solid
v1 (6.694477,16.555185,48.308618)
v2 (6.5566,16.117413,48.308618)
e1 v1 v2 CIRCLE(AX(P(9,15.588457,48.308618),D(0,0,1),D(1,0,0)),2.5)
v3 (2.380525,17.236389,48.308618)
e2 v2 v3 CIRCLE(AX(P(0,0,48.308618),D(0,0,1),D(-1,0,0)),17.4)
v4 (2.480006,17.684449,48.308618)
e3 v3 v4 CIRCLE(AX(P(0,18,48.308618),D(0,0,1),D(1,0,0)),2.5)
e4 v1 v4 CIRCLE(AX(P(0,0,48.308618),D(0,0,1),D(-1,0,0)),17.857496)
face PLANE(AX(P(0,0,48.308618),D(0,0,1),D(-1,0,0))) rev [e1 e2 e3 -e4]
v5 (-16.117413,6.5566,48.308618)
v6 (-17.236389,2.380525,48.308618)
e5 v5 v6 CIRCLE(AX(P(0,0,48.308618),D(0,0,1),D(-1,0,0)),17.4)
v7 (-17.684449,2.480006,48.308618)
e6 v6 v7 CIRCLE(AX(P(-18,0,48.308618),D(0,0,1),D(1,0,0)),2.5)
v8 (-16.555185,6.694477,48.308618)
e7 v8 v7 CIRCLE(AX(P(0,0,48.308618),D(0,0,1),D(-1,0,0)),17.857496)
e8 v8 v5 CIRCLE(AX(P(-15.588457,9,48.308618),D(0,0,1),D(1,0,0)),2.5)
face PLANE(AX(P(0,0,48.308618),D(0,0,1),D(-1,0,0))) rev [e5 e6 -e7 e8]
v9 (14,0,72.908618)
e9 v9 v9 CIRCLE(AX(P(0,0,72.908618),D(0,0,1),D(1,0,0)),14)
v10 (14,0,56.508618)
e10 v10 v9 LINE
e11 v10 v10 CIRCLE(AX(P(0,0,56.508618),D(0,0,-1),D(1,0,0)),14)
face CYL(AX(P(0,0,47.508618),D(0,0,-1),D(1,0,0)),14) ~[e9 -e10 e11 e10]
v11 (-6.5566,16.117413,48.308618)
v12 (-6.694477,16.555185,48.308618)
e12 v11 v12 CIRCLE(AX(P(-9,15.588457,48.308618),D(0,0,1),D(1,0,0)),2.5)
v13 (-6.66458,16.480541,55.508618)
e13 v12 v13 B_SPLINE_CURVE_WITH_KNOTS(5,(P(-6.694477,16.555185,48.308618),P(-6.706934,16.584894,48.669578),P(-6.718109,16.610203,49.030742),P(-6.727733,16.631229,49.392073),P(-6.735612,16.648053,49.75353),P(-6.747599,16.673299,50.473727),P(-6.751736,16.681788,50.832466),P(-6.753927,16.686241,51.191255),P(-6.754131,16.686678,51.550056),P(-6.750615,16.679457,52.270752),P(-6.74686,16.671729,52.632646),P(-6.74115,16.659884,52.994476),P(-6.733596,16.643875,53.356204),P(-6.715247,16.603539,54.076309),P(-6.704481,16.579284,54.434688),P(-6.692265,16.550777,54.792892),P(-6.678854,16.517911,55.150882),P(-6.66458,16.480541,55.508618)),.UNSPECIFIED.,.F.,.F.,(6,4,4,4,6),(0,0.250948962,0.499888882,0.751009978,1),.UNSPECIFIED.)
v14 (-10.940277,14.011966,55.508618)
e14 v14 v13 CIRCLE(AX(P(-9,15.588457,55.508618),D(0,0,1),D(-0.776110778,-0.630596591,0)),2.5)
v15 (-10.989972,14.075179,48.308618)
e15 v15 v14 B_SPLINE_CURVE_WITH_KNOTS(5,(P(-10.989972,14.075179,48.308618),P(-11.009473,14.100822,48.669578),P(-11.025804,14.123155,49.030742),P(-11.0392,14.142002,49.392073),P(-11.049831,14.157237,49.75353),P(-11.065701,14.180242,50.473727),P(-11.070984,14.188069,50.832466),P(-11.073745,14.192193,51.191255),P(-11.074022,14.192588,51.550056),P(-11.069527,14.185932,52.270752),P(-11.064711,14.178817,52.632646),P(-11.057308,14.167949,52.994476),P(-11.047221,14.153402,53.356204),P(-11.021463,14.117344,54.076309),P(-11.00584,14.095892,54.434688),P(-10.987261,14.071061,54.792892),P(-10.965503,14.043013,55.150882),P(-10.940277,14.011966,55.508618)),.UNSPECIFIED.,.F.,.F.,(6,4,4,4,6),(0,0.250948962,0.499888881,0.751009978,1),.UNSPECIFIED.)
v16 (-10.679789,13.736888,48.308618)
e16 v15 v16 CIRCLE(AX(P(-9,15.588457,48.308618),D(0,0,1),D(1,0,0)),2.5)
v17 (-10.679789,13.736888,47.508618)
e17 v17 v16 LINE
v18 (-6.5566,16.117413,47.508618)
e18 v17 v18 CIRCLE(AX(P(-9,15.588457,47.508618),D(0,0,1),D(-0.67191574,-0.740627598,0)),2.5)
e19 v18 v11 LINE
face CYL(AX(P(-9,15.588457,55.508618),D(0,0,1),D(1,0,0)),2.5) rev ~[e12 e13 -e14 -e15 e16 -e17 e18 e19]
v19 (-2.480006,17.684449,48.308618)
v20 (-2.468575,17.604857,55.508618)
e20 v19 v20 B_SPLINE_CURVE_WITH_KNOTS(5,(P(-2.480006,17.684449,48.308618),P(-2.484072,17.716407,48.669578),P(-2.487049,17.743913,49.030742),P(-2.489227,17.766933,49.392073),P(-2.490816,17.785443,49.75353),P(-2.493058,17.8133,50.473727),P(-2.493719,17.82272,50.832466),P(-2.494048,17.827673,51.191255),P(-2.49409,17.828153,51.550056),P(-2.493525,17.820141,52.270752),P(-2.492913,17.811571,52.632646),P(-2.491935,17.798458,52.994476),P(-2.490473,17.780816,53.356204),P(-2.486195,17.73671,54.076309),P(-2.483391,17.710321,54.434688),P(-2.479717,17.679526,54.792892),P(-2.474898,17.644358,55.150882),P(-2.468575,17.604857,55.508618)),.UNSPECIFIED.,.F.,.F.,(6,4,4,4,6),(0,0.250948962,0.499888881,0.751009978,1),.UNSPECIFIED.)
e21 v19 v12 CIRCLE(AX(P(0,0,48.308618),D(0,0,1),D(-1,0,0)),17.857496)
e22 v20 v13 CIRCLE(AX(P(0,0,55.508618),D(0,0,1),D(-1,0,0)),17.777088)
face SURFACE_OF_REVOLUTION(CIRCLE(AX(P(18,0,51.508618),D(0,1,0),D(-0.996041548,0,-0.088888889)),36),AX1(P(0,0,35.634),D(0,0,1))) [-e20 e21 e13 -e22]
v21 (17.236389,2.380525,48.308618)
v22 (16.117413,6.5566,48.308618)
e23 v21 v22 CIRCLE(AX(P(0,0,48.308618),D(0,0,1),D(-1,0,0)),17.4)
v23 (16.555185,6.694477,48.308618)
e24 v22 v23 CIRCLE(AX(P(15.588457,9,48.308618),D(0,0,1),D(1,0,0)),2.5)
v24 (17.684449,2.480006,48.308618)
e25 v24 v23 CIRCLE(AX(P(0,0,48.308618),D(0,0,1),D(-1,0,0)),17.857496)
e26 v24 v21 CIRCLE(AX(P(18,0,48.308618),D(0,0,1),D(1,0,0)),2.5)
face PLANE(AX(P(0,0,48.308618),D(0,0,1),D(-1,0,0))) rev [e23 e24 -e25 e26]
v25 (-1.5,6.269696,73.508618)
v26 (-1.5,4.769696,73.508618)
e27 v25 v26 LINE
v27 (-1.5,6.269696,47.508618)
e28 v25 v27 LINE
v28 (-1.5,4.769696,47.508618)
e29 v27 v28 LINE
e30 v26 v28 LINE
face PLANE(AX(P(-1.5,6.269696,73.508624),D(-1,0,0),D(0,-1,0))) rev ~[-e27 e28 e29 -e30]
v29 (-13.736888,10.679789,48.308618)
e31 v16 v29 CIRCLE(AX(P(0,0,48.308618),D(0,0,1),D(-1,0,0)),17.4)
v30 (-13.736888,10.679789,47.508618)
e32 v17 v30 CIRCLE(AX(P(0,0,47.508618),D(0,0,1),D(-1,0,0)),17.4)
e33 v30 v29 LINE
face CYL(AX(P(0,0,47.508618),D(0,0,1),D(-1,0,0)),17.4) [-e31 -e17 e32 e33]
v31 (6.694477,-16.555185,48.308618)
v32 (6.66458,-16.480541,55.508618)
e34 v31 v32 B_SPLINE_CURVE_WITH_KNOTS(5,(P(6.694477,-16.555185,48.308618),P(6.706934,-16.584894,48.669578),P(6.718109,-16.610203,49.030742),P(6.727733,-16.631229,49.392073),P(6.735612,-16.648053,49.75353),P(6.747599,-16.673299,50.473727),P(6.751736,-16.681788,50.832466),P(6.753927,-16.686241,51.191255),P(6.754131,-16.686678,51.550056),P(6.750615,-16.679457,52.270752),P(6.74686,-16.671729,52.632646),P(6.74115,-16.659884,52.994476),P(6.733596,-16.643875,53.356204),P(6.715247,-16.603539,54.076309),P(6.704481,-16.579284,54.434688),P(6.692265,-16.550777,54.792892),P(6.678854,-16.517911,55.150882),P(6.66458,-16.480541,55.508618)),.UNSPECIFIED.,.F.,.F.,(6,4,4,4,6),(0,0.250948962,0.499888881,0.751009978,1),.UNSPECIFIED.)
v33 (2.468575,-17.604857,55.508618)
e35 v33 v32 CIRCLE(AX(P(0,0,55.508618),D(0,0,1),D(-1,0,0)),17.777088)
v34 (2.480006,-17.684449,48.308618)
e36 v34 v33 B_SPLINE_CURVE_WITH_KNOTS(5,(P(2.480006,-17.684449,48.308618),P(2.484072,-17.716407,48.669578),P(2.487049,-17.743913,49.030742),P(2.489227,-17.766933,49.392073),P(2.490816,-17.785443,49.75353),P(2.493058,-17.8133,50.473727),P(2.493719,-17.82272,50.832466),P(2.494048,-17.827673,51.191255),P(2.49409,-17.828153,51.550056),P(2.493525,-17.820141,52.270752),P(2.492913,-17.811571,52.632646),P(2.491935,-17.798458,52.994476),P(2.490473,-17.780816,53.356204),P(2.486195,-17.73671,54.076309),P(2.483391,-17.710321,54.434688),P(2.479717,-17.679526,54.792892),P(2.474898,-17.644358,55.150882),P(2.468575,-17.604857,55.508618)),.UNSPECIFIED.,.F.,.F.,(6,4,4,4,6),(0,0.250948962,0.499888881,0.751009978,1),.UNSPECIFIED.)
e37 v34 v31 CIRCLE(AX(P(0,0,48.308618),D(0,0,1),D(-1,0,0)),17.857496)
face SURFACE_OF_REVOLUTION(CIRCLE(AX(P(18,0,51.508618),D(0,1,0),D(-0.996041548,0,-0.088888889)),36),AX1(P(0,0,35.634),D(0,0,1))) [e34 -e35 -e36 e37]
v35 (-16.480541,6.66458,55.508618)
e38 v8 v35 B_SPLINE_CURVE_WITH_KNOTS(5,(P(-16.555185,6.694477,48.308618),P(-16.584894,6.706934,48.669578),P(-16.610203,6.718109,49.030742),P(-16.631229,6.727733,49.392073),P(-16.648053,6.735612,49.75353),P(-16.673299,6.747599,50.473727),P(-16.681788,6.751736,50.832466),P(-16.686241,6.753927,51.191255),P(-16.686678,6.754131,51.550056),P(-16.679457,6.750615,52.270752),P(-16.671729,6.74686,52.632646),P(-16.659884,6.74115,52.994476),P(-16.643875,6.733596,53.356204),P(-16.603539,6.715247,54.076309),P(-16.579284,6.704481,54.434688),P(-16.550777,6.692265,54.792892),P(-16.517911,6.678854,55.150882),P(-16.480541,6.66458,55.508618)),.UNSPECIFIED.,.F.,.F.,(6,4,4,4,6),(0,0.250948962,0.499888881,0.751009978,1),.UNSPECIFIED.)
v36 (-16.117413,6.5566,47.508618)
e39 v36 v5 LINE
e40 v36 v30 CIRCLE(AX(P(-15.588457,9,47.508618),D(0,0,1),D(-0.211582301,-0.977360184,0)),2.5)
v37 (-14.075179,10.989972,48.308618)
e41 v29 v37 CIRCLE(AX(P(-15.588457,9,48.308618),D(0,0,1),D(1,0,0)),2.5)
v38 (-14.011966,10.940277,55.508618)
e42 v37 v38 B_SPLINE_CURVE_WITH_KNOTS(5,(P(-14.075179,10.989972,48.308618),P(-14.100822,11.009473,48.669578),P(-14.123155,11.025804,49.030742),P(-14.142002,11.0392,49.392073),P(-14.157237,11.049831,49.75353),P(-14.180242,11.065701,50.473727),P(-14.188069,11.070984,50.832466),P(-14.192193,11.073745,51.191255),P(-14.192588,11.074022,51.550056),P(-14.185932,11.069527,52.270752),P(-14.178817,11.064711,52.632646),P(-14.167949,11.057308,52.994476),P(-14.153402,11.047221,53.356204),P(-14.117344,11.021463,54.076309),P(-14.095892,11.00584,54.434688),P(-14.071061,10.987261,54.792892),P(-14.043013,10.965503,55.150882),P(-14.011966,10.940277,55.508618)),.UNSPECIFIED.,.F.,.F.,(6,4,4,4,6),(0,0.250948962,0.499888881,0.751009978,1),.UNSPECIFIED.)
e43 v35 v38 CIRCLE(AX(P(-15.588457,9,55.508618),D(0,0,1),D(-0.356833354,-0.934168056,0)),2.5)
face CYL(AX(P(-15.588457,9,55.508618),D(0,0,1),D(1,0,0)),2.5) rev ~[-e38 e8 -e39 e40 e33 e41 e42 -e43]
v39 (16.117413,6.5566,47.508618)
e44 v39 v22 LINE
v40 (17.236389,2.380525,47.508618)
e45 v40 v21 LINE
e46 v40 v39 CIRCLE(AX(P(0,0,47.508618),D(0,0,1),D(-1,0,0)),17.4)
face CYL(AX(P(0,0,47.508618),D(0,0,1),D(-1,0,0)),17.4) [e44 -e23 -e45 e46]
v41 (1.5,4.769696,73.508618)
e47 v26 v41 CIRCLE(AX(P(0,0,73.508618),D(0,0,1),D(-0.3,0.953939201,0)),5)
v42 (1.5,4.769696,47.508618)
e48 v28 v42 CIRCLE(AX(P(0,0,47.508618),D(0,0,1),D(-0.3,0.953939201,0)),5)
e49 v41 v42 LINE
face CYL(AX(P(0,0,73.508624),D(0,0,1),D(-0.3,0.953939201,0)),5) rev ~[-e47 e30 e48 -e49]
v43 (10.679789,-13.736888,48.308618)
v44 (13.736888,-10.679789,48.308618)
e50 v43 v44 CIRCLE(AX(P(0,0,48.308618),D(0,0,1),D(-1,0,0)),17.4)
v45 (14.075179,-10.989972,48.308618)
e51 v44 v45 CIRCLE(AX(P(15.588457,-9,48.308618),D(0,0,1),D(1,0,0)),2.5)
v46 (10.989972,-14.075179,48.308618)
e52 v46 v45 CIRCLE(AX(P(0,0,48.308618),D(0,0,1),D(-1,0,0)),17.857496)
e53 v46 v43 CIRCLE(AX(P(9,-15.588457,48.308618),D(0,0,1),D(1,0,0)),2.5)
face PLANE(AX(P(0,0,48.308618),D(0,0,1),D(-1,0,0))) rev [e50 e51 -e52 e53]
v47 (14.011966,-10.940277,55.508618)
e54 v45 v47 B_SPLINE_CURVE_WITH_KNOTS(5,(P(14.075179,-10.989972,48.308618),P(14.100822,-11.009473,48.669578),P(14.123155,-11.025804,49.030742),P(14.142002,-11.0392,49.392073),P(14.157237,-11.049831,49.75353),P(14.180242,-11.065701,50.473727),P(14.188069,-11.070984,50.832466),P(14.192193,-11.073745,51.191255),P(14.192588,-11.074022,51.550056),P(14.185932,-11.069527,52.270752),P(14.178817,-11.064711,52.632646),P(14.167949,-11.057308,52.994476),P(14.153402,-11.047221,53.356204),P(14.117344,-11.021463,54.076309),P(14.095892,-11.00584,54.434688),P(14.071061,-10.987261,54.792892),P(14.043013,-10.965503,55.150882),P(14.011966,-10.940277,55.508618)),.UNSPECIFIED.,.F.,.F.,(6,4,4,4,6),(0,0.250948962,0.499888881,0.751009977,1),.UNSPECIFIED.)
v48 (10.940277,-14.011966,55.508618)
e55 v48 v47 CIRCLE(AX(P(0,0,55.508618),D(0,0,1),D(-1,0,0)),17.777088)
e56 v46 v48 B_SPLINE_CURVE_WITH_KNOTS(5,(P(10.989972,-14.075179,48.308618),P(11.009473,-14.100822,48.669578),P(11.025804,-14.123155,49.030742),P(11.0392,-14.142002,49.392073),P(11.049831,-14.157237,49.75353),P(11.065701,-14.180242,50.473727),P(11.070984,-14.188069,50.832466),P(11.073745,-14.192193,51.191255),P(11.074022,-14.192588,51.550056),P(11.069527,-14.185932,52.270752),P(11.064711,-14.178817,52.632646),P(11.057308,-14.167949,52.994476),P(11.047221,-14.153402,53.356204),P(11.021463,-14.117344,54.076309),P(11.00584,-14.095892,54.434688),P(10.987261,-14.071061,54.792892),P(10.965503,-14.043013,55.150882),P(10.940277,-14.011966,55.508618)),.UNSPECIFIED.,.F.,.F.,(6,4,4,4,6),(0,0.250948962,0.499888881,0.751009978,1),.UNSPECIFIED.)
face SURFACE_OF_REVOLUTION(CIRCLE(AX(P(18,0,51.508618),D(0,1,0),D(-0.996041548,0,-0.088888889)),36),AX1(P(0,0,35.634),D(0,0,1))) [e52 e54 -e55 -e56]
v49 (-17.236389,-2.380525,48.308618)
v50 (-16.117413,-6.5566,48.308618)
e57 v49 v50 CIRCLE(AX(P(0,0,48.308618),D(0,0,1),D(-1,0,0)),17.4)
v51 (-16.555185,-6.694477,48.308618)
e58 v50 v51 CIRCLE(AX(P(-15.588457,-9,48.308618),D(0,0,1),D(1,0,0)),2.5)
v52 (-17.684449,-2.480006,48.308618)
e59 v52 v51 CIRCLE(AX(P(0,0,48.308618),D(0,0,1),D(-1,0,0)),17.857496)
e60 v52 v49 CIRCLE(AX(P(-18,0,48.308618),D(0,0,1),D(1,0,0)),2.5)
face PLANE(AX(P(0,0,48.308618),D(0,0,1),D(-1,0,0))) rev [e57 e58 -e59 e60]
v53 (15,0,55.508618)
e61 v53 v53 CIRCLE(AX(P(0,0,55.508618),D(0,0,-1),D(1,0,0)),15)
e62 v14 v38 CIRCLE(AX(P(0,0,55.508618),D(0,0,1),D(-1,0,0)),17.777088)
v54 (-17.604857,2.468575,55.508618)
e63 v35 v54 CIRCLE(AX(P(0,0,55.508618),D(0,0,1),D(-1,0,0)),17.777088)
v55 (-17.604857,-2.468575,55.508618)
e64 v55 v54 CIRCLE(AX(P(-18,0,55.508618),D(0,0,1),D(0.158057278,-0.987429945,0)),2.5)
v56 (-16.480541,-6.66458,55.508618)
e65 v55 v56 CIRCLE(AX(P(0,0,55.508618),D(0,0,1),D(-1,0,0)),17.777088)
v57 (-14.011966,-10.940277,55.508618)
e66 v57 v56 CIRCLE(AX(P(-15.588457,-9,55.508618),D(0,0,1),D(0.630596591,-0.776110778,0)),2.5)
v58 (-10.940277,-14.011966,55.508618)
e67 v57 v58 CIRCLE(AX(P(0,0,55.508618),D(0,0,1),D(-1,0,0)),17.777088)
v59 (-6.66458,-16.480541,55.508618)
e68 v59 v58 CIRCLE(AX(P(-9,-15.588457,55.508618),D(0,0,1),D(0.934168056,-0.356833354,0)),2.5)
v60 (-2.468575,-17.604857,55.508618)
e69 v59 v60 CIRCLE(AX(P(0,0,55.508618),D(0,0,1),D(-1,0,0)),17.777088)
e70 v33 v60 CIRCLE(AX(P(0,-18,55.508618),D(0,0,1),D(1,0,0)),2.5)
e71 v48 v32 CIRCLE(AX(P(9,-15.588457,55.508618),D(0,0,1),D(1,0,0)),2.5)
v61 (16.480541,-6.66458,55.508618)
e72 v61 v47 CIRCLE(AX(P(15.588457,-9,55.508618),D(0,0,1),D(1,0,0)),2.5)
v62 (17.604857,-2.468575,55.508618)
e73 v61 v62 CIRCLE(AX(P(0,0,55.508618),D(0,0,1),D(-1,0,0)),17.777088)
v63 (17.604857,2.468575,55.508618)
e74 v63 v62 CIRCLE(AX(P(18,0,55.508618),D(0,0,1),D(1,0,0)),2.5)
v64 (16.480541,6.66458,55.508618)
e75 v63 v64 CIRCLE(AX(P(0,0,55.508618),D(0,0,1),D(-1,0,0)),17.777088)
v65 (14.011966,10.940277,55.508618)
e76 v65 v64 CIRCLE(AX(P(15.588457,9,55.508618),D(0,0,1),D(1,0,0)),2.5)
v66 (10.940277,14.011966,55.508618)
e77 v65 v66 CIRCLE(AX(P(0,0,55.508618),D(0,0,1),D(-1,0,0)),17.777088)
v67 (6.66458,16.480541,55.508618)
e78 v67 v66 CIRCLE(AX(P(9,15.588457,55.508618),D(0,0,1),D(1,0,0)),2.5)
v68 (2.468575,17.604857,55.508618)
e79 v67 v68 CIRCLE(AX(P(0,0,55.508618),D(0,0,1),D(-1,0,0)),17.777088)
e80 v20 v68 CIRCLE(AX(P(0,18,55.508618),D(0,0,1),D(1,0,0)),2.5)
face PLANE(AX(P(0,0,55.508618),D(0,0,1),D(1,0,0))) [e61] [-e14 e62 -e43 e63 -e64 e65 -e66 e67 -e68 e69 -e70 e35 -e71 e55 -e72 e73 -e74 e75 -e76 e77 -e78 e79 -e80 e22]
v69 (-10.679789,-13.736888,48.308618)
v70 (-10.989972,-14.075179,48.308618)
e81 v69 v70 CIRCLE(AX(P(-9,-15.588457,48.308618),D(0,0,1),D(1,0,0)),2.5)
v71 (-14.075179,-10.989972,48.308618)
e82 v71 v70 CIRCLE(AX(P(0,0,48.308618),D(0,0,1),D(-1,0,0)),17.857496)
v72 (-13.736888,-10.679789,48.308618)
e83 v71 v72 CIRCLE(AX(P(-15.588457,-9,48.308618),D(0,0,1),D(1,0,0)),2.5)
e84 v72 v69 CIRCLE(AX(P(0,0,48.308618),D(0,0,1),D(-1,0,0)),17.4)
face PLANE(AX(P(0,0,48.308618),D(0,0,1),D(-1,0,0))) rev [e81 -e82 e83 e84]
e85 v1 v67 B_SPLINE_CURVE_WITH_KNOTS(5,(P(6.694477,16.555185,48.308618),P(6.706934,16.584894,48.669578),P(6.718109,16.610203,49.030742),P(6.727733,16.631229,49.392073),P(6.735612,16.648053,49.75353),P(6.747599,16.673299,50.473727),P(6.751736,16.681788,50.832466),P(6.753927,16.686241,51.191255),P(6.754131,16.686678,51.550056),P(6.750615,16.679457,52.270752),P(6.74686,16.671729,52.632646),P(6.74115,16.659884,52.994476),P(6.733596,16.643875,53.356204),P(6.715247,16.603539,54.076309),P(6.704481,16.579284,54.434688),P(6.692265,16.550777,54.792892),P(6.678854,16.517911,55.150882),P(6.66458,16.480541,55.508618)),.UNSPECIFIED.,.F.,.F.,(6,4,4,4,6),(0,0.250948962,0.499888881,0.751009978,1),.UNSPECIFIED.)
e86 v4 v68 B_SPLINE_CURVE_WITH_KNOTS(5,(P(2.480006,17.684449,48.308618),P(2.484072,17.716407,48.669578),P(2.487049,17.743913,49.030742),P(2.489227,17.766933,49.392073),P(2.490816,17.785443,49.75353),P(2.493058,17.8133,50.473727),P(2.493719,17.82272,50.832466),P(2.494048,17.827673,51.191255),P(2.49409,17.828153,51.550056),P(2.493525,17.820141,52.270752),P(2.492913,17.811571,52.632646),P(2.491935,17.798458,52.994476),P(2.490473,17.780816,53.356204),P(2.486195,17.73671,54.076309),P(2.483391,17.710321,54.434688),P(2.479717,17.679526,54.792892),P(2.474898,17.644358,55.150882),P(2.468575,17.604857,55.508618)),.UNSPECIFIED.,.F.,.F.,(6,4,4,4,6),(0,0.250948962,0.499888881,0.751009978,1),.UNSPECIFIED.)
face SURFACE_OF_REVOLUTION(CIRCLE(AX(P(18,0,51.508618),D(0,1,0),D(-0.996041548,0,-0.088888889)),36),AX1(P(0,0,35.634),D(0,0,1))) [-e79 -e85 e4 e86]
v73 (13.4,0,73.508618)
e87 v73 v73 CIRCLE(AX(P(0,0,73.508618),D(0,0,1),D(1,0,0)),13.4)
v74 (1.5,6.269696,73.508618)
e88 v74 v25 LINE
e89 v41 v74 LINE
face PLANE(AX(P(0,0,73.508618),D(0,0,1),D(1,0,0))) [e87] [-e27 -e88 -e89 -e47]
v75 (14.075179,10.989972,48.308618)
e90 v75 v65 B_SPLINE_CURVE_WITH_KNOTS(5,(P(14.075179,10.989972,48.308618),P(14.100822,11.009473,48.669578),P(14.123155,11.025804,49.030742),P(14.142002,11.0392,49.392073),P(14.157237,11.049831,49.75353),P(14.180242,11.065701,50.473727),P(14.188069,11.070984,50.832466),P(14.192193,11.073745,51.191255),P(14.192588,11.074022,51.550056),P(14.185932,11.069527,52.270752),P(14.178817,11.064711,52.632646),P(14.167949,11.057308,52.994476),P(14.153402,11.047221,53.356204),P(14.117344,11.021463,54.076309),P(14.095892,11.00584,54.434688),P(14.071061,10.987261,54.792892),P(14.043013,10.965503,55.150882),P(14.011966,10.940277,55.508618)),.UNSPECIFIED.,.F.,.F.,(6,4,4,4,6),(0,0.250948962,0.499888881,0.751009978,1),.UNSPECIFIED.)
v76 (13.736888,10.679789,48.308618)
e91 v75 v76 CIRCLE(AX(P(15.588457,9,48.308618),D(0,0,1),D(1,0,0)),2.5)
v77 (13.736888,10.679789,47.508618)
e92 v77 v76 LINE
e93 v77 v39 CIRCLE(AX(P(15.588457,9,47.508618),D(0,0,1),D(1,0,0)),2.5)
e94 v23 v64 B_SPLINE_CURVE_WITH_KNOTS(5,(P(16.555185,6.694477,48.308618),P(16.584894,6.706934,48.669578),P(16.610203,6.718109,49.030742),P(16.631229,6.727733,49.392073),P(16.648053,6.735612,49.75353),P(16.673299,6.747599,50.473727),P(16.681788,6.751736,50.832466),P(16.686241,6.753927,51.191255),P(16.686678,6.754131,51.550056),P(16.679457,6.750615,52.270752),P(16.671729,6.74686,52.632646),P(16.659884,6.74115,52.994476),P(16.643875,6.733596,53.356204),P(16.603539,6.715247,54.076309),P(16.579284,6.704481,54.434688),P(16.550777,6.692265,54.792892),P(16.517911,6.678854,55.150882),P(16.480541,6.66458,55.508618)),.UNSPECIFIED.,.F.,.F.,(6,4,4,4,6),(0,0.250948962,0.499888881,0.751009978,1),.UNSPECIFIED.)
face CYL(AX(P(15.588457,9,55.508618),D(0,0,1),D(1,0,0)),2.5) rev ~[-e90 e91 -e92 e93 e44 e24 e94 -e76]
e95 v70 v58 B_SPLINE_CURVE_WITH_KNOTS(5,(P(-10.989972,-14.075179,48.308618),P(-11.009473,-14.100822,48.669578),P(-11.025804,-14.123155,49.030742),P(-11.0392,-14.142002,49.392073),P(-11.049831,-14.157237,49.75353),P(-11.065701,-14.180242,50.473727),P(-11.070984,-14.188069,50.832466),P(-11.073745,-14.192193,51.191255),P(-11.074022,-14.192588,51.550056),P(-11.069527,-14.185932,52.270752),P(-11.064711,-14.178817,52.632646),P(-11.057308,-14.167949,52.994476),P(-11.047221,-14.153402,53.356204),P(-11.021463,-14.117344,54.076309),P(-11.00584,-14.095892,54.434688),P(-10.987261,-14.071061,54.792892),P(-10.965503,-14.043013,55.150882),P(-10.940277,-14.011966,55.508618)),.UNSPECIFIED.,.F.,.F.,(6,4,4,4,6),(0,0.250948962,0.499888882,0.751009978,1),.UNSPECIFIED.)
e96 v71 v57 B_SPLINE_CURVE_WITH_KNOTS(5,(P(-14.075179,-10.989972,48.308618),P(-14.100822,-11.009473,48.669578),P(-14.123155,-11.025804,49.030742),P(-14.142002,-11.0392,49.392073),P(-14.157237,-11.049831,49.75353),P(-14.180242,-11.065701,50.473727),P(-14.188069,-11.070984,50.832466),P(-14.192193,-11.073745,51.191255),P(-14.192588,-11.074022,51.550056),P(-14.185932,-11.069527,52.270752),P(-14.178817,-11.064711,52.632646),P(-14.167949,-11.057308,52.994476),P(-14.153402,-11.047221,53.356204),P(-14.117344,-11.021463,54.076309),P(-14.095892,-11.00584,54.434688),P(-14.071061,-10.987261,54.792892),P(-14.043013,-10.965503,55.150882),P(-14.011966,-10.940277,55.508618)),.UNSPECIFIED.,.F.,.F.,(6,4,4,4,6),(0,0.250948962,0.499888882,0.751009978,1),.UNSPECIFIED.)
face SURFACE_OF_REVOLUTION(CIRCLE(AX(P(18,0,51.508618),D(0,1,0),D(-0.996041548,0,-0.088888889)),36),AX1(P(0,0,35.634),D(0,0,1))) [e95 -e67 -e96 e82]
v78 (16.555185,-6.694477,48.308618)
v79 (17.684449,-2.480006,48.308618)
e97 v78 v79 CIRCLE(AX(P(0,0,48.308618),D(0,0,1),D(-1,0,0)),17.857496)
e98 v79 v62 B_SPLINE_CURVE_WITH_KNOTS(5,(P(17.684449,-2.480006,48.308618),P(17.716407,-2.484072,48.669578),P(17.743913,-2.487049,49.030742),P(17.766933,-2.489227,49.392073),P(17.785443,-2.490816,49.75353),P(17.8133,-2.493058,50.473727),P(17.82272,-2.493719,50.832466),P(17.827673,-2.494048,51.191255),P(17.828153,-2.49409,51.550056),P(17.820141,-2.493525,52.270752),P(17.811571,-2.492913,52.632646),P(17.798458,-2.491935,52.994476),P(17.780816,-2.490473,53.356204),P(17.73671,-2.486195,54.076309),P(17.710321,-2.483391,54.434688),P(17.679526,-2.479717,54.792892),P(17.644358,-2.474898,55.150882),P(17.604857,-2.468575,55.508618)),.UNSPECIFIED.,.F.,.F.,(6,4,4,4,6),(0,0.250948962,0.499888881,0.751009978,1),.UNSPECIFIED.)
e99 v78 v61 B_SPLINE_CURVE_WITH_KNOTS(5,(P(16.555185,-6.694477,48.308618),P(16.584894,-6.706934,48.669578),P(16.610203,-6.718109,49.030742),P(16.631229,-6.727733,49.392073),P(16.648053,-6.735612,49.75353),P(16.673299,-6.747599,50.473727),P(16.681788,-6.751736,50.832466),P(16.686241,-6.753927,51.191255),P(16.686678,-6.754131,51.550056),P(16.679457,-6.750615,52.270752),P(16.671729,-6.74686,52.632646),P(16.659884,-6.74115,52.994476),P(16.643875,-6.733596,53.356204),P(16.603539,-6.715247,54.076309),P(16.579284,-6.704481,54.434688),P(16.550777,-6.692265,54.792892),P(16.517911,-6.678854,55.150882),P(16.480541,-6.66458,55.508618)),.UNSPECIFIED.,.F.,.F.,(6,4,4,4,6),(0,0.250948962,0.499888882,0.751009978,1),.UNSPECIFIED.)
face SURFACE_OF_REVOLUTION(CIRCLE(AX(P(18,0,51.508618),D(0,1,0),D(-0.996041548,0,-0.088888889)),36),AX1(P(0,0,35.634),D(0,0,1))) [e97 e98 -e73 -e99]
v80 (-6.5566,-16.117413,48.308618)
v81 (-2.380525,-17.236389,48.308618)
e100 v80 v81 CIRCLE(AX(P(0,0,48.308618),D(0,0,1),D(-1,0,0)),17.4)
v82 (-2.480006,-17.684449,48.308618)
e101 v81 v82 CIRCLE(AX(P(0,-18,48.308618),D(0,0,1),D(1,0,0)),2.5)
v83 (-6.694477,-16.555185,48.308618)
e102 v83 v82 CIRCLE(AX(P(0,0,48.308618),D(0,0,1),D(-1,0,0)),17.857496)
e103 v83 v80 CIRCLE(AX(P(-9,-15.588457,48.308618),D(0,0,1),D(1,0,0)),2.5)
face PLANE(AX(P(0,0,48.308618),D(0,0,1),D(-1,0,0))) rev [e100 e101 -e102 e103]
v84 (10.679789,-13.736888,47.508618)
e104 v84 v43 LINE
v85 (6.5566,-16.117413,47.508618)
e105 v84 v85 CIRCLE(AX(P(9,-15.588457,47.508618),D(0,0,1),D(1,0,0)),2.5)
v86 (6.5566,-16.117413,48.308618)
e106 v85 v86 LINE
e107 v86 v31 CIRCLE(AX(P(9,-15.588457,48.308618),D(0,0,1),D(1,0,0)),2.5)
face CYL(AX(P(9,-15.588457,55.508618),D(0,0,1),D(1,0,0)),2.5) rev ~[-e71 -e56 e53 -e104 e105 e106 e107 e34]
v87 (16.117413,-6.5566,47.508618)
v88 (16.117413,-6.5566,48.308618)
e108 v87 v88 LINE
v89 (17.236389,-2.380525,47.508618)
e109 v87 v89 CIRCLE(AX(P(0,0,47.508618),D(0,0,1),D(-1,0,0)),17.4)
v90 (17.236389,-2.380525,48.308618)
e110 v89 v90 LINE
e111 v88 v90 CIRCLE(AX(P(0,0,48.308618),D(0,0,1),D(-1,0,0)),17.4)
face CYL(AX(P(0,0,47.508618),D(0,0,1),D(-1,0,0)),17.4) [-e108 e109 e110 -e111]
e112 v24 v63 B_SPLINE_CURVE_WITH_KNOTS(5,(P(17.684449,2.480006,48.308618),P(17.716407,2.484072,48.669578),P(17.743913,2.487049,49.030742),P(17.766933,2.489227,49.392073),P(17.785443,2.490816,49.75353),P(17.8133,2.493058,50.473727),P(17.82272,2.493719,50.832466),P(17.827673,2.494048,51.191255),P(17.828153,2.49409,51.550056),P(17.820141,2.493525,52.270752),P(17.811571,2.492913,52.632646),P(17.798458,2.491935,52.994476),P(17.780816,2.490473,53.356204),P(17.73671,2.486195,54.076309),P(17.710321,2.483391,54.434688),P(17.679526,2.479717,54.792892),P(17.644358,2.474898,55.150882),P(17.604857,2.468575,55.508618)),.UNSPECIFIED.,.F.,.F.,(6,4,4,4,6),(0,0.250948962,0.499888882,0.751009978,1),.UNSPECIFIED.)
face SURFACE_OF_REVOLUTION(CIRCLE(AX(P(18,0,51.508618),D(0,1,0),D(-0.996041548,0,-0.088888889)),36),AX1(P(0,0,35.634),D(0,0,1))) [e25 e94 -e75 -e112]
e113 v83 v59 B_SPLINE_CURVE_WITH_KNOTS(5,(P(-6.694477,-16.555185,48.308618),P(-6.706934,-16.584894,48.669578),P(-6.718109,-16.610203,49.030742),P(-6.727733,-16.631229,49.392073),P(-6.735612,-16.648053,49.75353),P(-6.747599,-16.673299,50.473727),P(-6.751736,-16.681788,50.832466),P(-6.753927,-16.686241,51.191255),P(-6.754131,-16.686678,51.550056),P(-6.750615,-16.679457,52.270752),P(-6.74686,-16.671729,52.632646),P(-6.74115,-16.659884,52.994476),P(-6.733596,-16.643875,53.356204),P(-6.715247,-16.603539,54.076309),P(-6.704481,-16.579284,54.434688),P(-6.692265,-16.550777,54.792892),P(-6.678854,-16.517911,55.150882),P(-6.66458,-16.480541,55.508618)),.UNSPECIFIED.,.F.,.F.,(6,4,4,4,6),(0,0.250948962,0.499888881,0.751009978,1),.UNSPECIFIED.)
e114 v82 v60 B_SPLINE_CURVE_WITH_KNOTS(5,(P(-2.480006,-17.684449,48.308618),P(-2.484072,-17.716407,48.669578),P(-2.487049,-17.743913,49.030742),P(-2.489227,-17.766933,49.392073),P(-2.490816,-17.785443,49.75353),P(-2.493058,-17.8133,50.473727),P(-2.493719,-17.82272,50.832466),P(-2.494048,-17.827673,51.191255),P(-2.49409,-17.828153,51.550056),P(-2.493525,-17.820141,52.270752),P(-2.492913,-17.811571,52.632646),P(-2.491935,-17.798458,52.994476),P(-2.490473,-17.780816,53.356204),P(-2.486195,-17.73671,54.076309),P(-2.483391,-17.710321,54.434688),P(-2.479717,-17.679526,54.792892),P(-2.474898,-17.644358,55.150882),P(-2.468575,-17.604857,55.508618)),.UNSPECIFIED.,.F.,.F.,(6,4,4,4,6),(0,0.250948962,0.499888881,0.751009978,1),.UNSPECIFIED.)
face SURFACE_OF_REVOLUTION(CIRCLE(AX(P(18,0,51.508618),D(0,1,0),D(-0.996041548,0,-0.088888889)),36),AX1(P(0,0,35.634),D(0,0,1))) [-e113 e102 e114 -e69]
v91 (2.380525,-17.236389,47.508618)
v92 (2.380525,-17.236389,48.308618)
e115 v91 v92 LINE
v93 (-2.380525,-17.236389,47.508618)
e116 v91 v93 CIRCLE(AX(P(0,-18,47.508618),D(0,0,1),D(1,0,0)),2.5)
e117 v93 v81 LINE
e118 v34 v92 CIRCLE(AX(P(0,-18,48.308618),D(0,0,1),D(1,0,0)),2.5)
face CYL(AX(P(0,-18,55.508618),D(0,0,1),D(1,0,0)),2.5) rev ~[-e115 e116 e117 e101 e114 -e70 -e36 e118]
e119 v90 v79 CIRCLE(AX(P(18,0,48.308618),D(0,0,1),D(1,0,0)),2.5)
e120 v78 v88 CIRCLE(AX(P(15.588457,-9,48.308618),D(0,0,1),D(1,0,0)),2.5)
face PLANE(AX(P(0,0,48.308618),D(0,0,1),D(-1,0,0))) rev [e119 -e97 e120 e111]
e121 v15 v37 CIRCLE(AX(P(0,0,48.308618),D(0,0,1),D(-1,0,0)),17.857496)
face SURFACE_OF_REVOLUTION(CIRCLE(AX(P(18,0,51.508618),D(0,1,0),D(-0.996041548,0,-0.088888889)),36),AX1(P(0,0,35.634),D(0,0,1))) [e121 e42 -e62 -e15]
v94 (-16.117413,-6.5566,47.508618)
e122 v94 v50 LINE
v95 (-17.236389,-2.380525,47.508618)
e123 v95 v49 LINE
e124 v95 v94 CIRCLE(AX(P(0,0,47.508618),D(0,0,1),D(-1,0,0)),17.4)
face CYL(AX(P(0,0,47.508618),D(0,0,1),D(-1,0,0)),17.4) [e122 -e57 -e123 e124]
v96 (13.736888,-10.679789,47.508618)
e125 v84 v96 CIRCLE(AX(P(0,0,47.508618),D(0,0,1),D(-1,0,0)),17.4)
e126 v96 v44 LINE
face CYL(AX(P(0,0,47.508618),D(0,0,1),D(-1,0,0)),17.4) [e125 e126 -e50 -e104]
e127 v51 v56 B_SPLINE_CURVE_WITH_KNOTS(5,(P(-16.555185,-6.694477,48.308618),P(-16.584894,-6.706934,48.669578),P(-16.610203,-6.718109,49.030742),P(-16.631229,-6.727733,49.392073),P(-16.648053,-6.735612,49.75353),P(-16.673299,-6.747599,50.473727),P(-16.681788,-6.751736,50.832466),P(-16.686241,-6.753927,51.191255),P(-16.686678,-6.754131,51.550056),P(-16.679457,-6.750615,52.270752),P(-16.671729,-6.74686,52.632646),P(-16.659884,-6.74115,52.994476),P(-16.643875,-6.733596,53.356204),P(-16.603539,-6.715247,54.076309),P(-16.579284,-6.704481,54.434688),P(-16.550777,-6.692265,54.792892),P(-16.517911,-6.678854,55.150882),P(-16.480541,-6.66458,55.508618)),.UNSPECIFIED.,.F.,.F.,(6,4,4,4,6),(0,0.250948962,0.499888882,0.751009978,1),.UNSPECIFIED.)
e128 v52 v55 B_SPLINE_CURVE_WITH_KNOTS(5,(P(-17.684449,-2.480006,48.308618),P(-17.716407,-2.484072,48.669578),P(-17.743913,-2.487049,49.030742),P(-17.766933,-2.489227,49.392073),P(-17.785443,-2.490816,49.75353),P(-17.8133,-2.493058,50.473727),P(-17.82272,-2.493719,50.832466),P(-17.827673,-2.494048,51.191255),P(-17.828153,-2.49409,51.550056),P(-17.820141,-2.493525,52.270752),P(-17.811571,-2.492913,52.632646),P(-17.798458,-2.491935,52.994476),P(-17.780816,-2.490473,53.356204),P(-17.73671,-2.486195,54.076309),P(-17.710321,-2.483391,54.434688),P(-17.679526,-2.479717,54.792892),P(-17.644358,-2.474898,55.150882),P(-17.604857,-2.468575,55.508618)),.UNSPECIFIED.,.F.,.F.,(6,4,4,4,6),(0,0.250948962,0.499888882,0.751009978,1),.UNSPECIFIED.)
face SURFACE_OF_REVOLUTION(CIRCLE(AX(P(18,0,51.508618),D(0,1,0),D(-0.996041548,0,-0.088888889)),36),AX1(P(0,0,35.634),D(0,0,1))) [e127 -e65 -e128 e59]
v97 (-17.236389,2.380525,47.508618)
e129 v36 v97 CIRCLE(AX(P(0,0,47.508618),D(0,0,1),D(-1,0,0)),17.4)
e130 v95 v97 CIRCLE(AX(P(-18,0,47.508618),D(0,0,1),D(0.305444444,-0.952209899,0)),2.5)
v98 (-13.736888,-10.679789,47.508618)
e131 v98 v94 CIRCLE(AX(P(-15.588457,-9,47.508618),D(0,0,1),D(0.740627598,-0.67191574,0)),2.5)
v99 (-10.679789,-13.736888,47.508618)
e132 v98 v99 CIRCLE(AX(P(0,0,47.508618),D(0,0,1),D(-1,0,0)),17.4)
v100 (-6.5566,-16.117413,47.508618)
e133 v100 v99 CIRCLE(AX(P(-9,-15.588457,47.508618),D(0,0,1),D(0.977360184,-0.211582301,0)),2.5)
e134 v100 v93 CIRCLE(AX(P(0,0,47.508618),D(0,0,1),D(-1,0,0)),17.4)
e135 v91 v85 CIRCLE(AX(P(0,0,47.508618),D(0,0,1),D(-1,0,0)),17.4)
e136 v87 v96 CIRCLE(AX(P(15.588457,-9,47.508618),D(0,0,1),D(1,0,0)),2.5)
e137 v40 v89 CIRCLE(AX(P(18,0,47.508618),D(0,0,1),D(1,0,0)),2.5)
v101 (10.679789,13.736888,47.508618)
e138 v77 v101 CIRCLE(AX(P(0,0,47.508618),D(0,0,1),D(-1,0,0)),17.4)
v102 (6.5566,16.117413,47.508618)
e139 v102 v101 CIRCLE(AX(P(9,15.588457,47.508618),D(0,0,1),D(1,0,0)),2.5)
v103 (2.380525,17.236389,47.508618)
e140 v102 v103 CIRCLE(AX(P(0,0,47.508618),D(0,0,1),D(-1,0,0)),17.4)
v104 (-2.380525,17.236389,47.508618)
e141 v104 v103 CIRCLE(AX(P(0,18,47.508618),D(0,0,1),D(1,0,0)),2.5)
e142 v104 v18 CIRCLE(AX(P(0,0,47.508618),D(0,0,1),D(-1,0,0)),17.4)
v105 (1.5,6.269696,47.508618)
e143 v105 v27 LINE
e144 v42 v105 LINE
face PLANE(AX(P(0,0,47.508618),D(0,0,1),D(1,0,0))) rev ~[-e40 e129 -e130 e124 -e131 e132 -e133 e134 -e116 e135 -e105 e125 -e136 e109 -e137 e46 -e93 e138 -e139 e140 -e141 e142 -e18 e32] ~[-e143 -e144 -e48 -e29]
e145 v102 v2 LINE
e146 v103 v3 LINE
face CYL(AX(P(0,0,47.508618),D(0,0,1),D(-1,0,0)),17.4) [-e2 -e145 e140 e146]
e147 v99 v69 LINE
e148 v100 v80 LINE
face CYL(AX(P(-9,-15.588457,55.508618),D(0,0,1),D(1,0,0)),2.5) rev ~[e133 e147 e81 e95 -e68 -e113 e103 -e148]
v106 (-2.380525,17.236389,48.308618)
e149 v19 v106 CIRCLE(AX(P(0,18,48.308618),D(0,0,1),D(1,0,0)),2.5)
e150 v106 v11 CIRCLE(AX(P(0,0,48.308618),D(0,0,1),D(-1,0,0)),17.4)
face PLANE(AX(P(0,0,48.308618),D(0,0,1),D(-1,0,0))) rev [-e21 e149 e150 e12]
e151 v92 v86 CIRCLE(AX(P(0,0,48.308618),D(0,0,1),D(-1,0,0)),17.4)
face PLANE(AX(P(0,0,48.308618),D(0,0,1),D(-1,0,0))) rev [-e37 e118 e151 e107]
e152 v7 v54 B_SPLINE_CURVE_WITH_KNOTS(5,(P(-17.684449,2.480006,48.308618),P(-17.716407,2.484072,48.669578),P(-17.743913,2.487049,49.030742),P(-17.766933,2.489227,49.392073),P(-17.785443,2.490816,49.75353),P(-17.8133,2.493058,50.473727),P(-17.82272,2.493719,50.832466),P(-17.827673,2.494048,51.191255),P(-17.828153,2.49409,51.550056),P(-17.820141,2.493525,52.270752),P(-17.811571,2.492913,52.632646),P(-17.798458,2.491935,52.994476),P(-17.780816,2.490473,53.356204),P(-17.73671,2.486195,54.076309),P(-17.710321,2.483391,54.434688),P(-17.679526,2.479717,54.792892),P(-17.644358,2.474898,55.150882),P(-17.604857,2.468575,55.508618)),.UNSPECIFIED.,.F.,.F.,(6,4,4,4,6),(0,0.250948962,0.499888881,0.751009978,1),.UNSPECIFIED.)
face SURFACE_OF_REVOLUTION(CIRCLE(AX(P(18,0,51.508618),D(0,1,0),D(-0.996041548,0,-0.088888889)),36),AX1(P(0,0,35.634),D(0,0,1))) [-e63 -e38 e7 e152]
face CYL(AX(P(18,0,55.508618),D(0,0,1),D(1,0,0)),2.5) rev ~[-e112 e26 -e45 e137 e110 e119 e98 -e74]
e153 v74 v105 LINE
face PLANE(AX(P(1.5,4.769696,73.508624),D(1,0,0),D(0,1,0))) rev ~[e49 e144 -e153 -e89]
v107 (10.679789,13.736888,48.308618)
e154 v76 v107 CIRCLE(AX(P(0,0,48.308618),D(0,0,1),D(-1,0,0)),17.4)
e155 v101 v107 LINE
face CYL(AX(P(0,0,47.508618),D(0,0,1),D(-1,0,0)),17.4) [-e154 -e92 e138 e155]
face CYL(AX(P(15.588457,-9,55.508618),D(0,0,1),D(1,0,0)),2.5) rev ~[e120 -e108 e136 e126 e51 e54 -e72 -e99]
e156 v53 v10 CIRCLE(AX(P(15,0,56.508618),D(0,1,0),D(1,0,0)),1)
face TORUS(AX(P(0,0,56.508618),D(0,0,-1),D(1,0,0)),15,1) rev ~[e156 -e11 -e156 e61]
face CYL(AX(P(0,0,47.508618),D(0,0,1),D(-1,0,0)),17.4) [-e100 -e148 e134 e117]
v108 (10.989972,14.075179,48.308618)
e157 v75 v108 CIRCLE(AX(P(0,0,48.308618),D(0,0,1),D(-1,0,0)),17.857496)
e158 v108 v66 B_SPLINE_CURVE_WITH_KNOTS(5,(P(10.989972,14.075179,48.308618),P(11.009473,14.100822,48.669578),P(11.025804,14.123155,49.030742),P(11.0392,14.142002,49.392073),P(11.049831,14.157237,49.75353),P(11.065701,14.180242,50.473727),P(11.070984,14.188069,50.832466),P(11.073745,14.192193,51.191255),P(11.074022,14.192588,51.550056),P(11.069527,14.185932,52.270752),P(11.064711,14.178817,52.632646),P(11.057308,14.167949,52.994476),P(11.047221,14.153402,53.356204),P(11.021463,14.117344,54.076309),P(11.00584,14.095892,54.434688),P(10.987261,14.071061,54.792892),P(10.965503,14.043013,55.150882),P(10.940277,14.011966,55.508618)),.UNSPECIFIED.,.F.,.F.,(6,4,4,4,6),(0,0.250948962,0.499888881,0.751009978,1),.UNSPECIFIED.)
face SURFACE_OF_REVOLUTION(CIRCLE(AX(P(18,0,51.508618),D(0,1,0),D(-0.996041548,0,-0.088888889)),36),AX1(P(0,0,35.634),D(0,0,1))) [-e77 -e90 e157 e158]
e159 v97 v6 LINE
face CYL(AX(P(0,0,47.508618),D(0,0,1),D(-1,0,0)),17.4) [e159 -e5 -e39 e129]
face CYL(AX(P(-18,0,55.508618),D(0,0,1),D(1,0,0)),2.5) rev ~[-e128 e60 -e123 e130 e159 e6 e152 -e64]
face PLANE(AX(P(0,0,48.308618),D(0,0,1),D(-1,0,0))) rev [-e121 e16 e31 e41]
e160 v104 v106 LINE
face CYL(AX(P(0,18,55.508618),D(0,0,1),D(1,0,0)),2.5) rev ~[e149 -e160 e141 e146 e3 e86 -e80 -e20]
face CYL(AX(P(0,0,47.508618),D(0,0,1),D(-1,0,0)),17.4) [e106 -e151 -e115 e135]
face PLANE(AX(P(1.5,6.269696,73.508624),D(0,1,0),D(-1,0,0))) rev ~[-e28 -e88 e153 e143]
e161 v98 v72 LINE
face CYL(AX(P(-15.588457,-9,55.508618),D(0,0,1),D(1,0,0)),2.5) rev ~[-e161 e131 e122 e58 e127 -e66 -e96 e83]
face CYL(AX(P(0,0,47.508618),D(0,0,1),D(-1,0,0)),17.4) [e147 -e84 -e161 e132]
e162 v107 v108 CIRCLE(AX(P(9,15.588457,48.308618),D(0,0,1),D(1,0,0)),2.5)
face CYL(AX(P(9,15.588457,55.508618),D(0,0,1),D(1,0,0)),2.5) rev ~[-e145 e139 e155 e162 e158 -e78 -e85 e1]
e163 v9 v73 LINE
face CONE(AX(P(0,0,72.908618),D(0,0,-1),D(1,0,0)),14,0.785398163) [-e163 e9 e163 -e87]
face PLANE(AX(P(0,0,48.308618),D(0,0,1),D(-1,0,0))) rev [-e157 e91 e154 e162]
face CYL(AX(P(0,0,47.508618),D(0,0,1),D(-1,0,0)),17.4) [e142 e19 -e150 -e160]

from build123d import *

# Parameters (mm, degrees)
SKETCH_1_R          = 130
EXTRUDE_1_DEPTH     = 40
SKETCH_2_R          = 70
EXTRUDE_2_DEPTH     = 130
SKETCH_4_R          = 12.5
CUT_EXTRUDE_1_DEPTH = 70
FILLET_1_R          = 5
CHAMFER_1_SIZE      = 3
SCALE_1_SCALE       = 0.2
CUT_EXTRUDE_3_DEPTH = 37.215474988


with BuildPart() as part:
    # 草图1 → 凸台-拉伸1 (new body)
    with BuildSketch(Plane.XY):
        Circle(SKETCH_1_R)
    extrude(amount=EXTRUDE_1_DEPTH)

    # 草图2 → 凸台-拉伸2 (add)
    with BuildSketch(Plane.XY):
        Circle(SKETCH_2_R)
    extrude(amount=EXTRUDE_2_DEPTH)

    # 草图3 → 切除-旋转1 (revolve, cut)
    with BuildSketch(Plane(origin=(0, 0, 0), x_dir=(1, 0, 0), z_dir=(0, 1, 0))):
        with BuildLine():
            Line((-87, 0), (-87, -4))
            Line((-87, -4), (-89.287478648, -4))
            ThreePointArc((-89.287478648, -4), (-89.988776291, -22.010076897), (-88.8854382, -40))
            Line((-88.8854382, -40), (-140, -40))
            Line((-140, -40), (-140, 0))
            Line((-140, 0), (-87, 0))
        make_face()
    revolve(axis=Axis((0, 0, -59.373086337), (0, 0, 1)), mode=Mode.SUBTRACT)

    # 草图4 → 切除-拉伸1 (cut)
    with BuildSketch(Plane.XY.offset(40)):
        with Locations((0, 90)):
            Circle(SKETCH_4_R)
        with Locations((45, 77.942286341)):
            Circle(SKETCH_4_R)
        with Locations((77.942286341, 45)):
            Circle(SKETCH_4_R)
        with Locations((90, 0)):
            Circle(SKETCH_4_R)
        with Locations((77.942286341, -45)):
            Circle(SKETCH_4_R)
        with Locations((45, -77.942286341)):
            Circle(SKETCH_4_R)
        with Locations((0, -90)):
            Circle(SKETCH_4_R)
        with Locations((-45, -77.942286341)):
            Circle(SKETCH_4_R)
        with Locations((-77.942286341, -45)):
            Circle(SKETCH_4_R)
        with Locations((-90, 0)):
            Circle(SKETCH_4_R)
        with Locations((-77.942286341, 45)):
            Circle(SKETCH_4_R)
        with Locations((-45, 77.942286341)):
            Circle(SKETCH_4_R)
    extrude(amount=-CUT_EXTRUDE_1_DEPTH, mode=Mode.SUBTRACT)

    # 圆角1
    fillet_1_edges = [part.edges().sort_by_distance(p)[0] for p in [
        (-70, 0, 40),
    ]]
    fillet(fillet_1_edges, radius=FILLET_1_R)

    # 倒角1
    chamfer_1_edges = [part.edges().sort_by_distance(p)[0] for p in [
        (-70, 0, 130),
    ]]
    chamfer(chamfer_1_edges, length=CHAMFER_1_SIZE)


with BuildPart() as part_1:
    # 缩放比例1: scaled about (0, 0, 59.385771994)
    add(part.part.scale(SCALE_1_SCALE).moved(Location((0, 0, 47.508617595))))

    # 草图8 → 切除-拉伸3 (cut, through all)
    with BuildSketch(Plane.XY.offset(73.508624031)):
        with BuildLine():
            Line((1.5, 4.769696007), (1.5, 6.269696007))
            Line((1.5, 6.269696007), (-1.5, 6.269696007))
            Line((-1.5, 6.269696007), (-1.5, 4.769696007))
            ThreePointArc((-1.5, 4.769696007), (0, -5), (1.5, 4.769696007))
        make_face()
    extrude(amount=-CUT_EXTRUDE_3_DEPTH, mode=Mode.SUBTRACT)


solid = part_1.part
